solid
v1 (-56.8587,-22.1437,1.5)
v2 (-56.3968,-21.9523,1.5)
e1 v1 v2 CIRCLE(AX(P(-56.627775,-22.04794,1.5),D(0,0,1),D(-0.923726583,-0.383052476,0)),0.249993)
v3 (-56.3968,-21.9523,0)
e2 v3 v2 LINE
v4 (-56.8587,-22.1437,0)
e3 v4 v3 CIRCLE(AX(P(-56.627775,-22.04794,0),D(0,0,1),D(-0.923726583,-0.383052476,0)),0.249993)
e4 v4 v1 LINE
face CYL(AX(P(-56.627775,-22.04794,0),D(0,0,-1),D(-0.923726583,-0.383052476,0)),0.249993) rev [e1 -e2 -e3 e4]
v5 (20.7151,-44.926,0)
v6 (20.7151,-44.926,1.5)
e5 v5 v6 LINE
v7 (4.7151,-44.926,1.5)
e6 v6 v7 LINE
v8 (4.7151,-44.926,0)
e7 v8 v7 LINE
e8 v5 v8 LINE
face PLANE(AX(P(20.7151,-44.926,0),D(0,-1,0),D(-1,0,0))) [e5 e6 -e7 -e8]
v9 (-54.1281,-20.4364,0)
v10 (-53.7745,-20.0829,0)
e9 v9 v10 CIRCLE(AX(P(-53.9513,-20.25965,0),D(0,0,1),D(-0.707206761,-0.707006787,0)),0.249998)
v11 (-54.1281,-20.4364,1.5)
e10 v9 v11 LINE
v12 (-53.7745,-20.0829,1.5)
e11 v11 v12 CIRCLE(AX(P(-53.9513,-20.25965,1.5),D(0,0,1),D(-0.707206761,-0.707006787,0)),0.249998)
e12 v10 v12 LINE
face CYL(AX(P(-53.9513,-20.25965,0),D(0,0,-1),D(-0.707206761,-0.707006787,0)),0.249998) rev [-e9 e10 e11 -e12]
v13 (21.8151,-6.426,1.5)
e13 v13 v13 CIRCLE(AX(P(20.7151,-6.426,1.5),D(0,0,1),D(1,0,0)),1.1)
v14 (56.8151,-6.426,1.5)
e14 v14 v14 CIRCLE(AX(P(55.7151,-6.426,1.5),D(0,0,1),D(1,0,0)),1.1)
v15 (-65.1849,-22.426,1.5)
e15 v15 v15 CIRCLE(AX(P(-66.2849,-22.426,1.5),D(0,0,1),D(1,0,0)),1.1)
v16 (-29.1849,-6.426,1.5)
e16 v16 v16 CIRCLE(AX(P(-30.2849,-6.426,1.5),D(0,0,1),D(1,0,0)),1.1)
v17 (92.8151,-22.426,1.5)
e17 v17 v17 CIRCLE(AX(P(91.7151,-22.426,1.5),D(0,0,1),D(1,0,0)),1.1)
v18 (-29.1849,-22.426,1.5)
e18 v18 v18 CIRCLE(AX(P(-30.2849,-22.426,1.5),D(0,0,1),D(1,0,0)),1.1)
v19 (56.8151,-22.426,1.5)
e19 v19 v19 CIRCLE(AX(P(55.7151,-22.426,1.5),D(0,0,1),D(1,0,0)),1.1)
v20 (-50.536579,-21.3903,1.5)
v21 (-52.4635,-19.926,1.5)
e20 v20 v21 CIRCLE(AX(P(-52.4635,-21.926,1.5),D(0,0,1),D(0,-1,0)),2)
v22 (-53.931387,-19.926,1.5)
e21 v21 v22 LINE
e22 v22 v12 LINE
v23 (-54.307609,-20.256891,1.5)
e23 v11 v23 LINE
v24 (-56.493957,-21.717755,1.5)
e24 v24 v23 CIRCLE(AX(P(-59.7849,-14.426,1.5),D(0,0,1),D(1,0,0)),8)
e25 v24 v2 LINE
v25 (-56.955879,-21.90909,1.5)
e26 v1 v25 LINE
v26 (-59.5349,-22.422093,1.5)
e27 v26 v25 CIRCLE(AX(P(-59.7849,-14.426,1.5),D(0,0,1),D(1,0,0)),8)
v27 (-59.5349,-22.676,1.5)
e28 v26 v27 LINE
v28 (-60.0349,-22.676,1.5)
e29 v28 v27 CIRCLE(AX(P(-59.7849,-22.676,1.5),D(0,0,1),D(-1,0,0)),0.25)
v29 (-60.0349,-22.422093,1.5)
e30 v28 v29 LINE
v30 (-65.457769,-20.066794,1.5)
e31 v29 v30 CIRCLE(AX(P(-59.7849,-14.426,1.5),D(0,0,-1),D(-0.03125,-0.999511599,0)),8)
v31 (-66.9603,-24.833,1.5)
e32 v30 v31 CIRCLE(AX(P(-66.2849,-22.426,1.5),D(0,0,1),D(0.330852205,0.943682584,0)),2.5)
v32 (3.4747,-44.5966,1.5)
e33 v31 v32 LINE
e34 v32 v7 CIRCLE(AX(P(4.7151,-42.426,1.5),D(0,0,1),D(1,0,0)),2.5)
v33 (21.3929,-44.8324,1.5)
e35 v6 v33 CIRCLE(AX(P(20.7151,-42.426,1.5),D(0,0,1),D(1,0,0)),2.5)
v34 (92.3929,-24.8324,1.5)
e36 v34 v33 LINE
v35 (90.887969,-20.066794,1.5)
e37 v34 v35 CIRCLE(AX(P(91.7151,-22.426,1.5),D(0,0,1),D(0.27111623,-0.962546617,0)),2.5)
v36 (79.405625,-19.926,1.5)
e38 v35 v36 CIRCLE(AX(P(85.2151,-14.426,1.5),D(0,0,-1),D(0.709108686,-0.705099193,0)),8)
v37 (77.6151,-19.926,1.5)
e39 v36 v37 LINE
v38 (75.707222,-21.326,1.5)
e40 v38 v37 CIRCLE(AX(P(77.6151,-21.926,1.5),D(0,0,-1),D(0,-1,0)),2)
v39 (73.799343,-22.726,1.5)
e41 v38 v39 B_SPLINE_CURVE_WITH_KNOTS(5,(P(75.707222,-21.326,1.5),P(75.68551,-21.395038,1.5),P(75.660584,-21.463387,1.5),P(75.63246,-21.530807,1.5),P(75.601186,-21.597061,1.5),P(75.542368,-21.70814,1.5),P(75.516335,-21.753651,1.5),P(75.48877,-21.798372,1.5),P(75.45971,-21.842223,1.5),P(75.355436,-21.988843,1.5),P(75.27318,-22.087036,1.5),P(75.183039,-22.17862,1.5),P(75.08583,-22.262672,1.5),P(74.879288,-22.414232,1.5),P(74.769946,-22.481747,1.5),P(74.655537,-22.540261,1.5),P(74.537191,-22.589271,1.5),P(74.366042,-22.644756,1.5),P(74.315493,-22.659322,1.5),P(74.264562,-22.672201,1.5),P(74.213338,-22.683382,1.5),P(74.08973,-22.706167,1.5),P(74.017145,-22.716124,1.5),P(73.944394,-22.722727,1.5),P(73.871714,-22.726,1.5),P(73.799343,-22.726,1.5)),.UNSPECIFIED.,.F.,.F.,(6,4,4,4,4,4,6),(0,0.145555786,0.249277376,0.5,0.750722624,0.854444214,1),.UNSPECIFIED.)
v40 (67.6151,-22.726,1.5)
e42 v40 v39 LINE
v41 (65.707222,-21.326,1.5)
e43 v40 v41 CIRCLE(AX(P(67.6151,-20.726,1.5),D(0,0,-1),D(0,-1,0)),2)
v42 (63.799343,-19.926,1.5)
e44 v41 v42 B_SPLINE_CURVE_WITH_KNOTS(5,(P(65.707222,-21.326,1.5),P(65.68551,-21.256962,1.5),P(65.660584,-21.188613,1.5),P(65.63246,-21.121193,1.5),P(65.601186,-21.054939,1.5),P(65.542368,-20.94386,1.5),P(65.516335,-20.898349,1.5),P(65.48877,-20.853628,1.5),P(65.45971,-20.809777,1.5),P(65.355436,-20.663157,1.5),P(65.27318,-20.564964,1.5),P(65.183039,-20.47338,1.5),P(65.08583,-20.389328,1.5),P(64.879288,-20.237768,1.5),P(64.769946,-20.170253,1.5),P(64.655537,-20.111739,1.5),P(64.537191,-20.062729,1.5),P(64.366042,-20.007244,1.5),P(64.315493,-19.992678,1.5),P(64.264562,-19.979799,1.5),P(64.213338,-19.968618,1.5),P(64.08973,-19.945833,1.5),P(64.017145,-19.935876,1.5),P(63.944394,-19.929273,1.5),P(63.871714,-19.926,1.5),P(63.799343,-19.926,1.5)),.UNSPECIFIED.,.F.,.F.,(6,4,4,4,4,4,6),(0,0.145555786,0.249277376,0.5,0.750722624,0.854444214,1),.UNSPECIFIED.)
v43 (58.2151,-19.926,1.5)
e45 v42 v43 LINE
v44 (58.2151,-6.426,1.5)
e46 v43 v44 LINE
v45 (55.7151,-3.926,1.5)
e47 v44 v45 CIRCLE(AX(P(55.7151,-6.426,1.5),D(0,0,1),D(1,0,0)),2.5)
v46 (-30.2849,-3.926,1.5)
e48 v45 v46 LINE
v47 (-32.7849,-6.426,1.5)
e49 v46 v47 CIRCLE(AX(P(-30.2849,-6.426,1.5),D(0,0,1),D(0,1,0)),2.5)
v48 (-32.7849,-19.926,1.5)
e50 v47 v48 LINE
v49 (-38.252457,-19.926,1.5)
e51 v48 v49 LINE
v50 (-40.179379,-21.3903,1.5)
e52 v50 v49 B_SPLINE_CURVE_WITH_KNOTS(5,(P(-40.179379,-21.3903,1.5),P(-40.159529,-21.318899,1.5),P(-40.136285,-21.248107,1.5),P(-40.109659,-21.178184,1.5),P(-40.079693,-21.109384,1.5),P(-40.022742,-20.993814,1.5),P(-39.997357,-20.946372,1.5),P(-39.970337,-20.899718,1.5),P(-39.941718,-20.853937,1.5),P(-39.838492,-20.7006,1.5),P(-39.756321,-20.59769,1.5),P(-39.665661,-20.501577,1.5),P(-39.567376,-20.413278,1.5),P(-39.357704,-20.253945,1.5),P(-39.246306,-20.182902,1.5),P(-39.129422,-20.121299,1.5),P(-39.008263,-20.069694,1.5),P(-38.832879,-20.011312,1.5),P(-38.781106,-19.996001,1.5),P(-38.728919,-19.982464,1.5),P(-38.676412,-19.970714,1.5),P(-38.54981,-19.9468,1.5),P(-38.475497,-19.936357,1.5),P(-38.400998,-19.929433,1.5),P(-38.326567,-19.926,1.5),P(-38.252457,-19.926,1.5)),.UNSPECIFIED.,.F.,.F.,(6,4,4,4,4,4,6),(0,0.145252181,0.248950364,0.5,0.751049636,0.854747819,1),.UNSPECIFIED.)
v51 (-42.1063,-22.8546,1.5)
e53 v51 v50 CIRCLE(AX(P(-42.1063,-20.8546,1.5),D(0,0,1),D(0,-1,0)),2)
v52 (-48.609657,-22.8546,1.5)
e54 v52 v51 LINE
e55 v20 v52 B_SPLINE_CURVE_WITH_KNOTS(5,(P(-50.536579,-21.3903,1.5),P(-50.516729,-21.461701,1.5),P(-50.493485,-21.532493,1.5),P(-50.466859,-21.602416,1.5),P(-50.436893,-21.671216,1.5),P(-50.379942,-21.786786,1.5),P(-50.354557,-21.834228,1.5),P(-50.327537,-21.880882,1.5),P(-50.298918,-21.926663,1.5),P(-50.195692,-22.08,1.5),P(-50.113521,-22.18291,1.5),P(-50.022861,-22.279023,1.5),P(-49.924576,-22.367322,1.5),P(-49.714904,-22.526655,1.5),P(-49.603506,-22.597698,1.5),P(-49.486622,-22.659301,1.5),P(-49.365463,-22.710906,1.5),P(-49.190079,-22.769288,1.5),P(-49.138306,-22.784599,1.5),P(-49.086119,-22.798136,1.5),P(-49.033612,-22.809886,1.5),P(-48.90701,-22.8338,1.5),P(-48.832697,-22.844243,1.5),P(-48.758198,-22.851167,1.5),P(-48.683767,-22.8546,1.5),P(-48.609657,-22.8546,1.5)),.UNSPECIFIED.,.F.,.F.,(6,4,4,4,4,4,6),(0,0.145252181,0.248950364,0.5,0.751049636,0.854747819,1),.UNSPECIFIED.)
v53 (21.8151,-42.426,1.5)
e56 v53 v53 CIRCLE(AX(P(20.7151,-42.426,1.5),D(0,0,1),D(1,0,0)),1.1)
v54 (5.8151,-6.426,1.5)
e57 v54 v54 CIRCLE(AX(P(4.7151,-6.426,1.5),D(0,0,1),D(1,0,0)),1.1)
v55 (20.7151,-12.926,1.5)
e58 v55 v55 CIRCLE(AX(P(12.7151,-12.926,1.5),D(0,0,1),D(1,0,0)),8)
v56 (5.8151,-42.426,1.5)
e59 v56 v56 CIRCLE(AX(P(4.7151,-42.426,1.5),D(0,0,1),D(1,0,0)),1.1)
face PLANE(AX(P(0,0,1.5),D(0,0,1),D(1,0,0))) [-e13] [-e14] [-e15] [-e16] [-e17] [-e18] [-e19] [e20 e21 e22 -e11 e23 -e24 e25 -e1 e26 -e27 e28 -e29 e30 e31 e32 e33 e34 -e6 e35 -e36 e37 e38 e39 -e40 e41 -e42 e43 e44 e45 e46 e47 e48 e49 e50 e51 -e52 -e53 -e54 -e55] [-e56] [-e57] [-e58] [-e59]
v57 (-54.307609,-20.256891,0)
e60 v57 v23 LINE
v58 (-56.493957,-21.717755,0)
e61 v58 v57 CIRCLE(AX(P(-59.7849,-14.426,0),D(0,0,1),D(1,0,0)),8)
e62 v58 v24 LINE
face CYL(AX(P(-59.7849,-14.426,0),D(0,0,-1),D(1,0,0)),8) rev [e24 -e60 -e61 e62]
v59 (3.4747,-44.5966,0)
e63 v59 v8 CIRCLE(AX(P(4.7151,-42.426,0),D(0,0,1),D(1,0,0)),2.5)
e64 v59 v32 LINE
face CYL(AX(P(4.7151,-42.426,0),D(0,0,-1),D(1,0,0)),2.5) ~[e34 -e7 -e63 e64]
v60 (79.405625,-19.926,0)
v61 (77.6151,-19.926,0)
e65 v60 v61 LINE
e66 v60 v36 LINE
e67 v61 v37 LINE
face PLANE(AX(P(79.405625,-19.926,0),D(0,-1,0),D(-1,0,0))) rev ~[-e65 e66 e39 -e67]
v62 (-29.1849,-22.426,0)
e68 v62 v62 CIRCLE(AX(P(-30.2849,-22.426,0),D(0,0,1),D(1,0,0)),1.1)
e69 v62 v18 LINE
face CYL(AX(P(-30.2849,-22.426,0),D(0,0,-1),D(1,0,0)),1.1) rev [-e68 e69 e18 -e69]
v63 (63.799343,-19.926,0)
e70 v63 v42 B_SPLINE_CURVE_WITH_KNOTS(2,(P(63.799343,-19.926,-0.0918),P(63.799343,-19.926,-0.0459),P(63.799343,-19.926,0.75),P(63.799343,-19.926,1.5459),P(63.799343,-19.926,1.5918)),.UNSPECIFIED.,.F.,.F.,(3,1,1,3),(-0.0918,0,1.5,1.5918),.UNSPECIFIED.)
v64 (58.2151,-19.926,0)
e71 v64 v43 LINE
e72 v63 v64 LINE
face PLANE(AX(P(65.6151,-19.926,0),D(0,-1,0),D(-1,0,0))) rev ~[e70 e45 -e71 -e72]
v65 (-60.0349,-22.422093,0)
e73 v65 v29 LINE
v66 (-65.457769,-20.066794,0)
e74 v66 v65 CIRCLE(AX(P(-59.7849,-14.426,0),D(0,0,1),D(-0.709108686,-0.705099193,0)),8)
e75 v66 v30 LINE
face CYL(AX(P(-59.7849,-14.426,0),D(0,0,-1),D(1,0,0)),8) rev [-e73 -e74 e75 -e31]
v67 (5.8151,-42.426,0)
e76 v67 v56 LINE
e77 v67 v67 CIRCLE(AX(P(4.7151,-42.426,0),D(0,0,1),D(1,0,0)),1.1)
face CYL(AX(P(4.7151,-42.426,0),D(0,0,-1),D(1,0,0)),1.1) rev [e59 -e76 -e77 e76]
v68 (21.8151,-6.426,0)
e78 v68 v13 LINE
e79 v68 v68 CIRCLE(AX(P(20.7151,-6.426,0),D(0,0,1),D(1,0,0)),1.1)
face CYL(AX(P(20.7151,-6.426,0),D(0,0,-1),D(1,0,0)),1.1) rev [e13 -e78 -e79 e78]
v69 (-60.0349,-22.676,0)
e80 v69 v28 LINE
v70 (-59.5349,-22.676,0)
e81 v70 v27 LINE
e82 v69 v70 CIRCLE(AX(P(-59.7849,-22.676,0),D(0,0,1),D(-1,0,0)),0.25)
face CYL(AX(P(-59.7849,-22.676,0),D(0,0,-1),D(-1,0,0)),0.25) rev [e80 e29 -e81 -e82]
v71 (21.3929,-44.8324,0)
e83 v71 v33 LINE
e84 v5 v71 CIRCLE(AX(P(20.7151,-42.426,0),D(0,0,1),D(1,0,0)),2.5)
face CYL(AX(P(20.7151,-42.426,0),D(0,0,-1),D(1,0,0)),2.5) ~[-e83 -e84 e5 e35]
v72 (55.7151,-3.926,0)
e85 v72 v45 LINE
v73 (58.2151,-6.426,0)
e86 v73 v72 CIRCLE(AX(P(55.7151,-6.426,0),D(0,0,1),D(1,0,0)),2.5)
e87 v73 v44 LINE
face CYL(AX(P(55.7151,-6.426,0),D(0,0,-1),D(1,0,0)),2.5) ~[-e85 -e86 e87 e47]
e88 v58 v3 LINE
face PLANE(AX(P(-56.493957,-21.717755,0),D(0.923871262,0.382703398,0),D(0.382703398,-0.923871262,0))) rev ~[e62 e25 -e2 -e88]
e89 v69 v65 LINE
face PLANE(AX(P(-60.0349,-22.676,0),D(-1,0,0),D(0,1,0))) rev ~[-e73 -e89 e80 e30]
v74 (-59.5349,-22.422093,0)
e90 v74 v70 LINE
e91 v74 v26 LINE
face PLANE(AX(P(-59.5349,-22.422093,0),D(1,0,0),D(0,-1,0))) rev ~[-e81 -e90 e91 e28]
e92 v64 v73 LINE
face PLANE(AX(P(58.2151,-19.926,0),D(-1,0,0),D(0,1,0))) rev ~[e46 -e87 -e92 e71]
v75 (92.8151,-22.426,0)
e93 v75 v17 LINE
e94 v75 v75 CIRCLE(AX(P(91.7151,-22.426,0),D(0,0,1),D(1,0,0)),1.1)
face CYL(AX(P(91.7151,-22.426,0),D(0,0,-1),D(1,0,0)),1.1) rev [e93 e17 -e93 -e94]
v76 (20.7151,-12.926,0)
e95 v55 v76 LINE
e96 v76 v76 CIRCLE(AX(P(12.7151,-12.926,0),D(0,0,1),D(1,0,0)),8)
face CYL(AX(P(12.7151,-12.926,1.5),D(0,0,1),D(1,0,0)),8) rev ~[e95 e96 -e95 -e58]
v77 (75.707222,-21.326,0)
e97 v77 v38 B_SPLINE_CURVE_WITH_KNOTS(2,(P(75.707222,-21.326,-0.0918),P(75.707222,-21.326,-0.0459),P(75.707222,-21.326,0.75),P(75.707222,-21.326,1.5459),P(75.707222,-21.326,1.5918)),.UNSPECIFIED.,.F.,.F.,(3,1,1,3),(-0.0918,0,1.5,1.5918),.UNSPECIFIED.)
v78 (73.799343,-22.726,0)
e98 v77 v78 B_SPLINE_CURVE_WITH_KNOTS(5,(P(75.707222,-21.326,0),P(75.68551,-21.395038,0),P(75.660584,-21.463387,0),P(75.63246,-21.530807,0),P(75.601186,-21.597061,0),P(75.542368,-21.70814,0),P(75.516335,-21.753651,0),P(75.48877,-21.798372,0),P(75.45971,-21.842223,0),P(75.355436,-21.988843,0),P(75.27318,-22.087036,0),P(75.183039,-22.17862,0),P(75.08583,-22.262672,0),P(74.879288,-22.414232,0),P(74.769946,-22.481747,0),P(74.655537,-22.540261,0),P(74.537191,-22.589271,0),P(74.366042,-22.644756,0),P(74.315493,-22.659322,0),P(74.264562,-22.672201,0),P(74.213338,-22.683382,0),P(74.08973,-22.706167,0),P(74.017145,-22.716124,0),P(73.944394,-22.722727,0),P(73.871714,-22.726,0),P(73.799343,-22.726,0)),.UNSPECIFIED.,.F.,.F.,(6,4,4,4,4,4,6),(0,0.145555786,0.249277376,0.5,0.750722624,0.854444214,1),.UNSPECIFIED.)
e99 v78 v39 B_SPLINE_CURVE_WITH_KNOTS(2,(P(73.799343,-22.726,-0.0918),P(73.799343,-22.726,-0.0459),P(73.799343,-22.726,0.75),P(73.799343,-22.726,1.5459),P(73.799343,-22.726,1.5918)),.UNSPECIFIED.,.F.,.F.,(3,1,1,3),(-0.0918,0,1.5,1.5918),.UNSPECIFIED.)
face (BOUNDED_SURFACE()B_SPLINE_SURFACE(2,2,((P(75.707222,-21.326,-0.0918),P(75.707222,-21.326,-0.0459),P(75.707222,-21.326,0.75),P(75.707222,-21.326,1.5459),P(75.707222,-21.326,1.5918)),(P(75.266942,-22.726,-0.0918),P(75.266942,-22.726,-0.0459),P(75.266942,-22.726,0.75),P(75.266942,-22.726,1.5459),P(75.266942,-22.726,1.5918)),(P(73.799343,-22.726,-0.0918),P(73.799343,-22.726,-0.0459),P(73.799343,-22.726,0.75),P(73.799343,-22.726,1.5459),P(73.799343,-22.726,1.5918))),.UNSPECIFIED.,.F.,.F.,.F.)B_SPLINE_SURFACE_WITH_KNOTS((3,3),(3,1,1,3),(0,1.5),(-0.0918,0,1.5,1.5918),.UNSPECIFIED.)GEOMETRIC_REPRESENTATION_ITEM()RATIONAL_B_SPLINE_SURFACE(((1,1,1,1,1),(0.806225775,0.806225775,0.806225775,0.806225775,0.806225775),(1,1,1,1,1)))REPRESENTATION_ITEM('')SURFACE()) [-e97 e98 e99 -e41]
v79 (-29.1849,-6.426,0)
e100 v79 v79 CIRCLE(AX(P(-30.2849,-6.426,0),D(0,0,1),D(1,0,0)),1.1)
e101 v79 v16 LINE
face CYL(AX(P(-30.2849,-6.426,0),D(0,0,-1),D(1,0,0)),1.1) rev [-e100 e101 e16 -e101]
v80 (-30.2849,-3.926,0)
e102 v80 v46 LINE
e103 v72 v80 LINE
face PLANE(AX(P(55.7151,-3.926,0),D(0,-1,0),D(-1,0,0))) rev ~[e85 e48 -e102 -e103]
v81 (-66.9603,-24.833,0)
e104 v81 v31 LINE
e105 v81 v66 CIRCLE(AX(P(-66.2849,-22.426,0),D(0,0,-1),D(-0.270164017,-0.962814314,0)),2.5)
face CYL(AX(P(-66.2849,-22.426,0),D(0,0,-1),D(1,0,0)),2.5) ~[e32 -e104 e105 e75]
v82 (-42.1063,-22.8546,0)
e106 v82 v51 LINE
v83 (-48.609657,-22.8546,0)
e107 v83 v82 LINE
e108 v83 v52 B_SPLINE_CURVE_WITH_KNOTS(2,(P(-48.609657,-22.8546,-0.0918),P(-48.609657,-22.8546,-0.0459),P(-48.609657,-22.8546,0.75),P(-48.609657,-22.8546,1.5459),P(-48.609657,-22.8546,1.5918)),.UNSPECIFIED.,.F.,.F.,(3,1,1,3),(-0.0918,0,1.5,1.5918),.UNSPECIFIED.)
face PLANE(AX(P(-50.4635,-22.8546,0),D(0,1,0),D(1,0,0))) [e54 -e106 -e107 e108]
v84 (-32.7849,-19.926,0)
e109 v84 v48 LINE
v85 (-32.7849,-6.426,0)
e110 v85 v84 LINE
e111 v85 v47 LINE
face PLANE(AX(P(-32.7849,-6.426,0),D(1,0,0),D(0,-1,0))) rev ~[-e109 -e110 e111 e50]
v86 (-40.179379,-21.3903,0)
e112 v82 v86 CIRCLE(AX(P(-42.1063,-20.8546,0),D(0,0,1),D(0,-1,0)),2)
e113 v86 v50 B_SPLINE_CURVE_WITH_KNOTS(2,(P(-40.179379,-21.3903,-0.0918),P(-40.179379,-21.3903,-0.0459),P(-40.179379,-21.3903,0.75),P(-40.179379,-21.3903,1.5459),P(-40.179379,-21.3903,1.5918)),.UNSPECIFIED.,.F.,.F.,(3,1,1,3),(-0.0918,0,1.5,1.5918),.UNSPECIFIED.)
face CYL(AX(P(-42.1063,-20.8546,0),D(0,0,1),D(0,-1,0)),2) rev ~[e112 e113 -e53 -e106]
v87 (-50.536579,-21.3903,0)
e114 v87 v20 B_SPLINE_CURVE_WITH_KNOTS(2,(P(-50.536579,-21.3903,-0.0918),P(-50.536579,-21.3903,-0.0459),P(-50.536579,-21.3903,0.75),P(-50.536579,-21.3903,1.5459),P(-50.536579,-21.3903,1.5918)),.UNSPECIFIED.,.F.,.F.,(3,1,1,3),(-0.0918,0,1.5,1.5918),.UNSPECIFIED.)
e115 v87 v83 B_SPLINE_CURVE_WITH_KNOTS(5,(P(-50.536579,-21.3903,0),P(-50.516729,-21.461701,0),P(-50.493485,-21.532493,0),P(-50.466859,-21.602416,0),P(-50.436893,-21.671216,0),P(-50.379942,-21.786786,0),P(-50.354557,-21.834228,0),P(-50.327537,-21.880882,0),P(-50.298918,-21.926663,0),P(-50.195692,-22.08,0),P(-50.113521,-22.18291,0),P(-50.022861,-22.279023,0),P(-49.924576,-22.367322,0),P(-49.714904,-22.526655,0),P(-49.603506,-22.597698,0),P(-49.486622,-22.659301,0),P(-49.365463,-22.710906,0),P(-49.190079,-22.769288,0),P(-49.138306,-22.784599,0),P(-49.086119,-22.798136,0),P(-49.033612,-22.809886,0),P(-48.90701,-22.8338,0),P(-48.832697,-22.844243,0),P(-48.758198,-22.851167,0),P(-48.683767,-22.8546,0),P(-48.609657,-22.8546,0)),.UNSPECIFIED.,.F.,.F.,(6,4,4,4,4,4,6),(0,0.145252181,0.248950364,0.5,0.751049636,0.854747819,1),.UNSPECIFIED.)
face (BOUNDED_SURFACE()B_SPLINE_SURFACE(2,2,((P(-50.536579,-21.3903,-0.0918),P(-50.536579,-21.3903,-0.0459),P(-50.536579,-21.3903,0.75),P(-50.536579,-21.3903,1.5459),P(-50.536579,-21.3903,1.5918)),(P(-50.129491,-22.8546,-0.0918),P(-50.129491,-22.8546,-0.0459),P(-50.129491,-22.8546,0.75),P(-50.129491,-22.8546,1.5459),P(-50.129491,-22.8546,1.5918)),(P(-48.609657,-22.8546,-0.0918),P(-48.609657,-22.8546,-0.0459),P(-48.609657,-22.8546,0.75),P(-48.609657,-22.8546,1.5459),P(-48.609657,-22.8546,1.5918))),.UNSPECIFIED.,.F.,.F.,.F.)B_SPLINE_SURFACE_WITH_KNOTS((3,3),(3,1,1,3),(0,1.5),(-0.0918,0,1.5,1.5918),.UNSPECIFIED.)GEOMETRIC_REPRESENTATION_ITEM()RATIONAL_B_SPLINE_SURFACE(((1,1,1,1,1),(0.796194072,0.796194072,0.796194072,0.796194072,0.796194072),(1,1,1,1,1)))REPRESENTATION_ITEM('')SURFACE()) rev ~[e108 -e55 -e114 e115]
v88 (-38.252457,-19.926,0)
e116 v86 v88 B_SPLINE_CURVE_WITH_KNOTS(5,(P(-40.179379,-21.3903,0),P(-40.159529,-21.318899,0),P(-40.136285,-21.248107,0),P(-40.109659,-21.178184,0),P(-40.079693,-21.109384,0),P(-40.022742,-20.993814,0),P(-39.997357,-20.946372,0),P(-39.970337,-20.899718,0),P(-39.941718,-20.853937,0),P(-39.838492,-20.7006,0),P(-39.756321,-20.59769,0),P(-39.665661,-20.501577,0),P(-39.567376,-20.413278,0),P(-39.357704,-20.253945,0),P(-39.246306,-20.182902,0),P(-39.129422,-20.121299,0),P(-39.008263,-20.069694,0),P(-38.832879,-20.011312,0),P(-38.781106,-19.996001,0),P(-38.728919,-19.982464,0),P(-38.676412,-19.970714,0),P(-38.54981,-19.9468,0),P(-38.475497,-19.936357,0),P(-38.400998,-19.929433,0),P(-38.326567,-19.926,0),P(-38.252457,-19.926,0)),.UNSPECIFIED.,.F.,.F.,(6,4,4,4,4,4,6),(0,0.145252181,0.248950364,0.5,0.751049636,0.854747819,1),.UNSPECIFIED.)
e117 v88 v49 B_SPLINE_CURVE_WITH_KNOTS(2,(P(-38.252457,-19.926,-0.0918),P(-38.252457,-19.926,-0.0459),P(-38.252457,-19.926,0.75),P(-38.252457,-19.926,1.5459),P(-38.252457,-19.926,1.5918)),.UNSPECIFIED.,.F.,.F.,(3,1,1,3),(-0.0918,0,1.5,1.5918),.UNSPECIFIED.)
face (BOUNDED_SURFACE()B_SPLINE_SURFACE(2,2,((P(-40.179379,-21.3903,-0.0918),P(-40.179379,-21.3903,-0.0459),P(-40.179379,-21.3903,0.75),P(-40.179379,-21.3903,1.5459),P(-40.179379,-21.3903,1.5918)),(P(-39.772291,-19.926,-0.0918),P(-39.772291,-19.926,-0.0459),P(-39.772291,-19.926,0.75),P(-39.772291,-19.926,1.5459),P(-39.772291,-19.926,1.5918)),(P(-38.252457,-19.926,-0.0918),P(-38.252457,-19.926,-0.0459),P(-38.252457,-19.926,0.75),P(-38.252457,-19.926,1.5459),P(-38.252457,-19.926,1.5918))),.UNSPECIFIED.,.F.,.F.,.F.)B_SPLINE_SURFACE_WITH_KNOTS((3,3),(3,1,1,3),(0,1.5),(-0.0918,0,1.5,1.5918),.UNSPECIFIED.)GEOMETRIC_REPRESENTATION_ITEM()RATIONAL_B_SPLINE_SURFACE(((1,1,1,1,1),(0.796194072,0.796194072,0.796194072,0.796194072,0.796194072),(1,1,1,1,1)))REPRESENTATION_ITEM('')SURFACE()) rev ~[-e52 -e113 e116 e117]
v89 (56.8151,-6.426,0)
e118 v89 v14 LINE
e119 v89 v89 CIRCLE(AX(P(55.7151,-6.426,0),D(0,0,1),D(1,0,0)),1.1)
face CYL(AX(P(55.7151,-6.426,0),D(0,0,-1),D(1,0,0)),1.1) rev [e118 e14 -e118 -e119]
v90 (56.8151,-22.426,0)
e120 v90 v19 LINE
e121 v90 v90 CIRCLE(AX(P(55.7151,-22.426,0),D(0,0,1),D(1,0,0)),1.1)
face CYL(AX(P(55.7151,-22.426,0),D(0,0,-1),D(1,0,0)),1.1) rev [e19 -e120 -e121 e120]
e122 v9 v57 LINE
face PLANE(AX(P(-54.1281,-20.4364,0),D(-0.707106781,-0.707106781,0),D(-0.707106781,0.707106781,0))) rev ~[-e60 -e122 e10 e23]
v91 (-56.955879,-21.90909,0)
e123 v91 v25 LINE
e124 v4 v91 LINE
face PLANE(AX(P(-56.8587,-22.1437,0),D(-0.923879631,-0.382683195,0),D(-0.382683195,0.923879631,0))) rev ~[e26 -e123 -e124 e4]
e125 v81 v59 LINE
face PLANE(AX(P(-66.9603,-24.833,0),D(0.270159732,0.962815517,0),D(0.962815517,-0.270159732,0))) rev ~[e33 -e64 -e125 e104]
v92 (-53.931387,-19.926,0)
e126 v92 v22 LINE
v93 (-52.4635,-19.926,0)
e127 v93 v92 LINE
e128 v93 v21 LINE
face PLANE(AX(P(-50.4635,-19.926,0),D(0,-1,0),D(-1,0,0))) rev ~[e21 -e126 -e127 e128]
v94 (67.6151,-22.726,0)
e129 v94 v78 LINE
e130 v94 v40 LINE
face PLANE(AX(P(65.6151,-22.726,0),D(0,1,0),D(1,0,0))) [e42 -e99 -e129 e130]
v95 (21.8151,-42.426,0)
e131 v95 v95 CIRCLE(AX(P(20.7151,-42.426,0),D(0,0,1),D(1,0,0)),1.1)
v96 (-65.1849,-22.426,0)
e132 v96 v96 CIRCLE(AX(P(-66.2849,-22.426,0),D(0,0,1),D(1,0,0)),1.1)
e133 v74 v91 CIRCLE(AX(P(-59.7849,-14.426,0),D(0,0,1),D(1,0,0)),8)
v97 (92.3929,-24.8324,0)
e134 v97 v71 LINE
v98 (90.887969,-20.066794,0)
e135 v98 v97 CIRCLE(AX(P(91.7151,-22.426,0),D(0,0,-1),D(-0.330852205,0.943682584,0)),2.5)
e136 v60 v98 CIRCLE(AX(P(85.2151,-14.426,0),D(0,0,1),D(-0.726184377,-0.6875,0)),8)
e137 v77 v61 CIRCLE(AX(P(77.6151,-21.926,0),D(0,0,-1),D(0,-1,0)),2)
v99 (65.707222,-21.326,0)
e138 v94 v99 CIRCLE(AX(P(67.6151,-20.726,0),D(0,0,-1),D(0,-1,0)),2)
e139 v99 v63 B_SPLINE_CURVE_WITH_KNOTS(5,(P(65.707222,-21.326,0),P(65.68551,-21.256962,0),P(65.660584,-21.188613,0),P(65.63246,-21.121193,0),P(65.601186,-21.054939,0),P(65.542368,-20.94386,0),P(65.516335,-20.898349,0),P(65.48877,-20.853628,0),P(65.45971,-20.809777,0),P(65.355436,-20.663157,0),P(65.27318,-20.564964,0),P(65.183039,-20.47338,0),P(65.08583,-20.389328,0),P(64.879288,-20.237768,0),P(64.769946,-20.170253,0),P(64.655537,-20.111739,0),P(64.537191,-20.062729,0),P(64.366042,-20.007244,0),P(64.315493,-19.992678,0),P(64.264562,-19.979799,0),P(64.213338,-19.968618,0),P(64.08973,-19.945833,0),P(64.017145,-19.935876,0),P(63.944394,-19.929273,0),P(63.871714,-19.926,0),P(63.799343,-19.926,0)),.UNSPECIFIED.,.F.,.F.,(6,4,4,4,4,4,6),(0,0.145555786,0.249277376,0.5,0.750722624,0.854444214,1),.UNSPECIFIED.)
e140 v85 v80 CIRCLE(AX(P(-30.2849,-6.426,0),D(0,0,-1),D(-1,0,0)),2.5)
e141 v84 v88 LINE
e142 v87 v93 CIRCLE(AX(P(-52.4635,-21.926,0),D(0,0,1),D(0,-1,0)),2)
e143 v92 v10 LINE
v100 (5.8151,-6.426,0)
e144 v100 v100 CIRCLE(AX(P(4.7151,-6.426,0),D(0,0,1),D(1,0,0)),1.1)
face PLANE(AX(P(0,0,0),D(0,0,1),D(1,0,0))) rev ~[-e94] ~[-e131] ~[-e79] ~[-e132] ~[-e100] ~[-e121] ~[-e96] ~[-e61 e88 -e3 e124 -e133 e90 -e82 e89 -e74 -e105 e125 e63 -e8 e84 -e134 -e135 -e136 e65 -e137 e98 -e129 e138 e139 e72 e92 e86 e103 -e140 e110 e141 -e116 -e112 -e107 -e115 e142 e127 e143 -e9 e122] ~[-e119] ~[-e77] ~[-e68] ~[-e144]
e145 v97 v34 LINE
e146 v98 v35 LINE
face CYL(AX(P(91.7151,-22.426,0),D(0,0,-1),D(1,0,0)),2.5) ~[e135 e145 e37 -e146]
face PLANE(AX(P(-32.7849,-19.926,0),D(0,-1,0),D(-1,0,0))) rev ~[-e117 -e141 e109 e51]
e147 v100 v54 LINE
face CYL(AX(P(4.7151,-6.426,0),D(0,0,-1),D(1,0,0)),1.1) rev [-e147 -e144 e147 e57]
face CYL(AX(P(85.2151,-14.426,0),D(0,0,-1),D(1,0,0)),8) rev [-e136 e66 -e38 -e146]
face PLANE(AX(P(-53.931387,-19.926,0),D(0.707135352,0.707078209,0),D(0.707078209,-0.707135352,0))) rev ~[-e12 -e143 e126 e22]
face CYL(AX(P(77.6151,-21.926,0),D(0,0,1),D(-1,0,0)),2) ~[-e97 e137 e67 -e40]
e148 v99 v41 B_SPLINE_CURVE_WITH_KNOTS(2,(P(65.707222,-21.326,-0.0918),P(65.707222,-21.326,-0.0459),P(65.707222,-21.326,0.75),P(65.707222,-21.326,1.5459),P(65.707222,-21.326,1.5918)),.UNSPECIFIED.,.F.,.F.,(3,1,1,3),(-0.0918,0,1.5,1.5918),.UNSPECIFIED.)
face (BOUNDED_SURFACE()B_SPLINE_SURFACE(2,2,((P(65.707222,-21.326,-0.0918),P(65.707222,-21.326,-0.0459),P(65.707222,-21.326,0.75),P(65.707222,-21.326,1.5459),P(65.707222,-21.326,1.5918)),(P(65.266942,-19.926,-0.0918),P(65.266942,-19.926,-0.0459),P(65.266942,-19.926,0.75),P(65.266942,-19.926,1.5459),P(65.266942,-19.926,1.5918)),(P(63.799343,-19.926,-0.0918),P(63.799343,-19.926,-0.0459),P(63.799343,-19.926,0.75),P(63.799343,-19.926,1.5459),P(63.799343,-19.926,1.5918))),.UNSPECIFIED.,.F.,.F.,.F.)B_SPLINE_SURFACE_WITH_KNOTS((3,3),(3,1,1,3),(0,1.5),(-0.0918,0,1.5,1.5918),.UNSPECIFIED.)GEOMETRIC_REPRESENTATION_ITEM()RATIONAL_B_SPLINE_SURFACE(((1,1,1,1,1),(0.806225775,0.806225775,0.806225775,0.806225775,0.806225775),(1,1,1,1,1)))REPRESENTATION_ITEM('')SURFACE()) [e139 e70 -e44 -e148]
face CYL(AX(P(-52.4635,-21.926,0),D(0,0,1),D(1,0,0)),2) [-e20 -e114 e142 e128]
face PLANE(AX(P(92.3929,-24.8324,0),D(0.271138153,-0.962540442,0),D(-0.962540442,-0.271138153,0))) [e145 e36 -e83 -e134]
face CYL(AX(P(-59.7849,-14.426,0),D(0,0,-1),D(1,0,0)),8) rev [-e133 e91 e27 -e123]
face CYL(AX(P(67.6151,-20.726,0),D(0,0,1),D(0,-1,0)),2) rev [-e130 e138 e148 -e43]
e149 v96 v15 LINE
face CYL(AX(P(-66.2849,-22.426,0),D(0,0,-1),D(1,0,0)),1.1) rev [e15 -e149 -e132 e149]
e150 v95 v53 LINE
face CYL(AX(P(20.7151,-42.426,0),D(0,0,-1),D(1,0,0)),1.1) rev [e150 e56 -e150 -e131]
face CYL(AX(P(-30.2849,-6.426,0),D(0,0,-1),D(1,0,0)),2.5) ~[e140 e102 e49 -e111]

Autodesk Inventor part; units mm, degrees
ref_plane "YZ Plane" through (0, 0, 0) normal (1, 0, 0) x (0, 1, 0)
ref_plane "XZ Plane" through (0, 0, 0) normal (0, 1, 0) x (-1, 0, 0)
ref_plane "XY Plane" through (0, 0, 0) normal (0, 0, 1) x (1, 0, 0)
sketch "スケッチ1" plane through (0, 0, 0) normal (0, 0, 1) x (1, 0, 0)
  circle A0 centre (55.7151, -22.426) radius 1 projected
  circle A1 centre (55.7151, -6.426) radius 1.05 projected
  circle A2 centre (20.7151, -6.426) radius 1 projected
  circle A3 centre (4.7151, -6.426) radius 1.45 projected
  circle A4 centre (-30.2849, -22.426) radius 1 projected
  circle A5 centre (-30.2849, -6.426) radius 1.05 projected
  circle A6 centre (55.7151, -22.426) radius 1.1
  circle A7 centre (55.7151, -6.426) radius 1.1
  circle A8 centre (20.7151, -6.426) radius 1.1
  circle A9 centre (4.7151, -6.426) radius 1.1
  circle A10 centre (-30.2849, -6.426) radius 1.1
  circle A11 centre (-30.2849, -22.426) radius 1.1
  circle A12 centre (20.7151, -42.426) radius 1 projected
  circle A13 centre (4.7151, -42.426) radius 1 projected
  circle A14 centre (20.7151, -42.426) radius 1.1
  circle A15 centre (4.7151, -42.426) radius 1.1
  circle A16 centre (55.7151, -6.426) radius 2.5
  circle A17 centre (-30.2849, -6.426) radius 2.5
  circle A18 centre (-30.2849, -22.426) radius 2.5
  circle A19 centre (55.7151, -22.426) radius 2.5
  circle A20 centre (20.7151, -42.426) radius 2.5
  circle A21 centre (4.7151, -42.426) radius 2.5
  line L0 (21.9554, -44.5966) -> (56.9554, -24.5966)
  line L1 (58.2151, -22.426) -> (58.2151, -6.426)
  line L2 (55.7151, -3.926) -> (-30.2849, -3.926)
  line L3 (-32.7849, -6.426) -> (-32.7849, -22.426)
  line L4 (3.4747, -44.5966) -> (-31.5253, -24.5966)
  line L5 (20.7151, -44.926) -> (4.7151, -44.926)
  circle A22 centre (91.7151, -22.426) radius 1 projected
  circle A23 centre (91.7151, -22.426) radius 1.1
  circle A24 centre (-66.2849, -22.426) radius 1.05 projected
  circle A25 centre (-66.2849, -22.426) radius 1.1
  circle A26 centre (-66.2849, -22.426) radius 2.5
  circle A27 centre (91.7151, -22.426) radius 2.5
  line L6 (92.3929, -24.8324) -> (21.3929, -44.8324)
  line L7 (91.7151, -19.926) -> (55.7151, -19.926)
  line L8 (73.8937, -20.8546) -> (67.5365, -20.8546) projected
  line L9 (73.8937, -16.9974) -> (73.8937, -20.8546) projected
  line L10 (67.5365, -16.9974) -> (73.8937, -16.9974) projected
  line L11 (67.5365, -20.8546) -> (67.5365, -16.9974) projected
  line L12 (73.8937, -20.8546) -> (67.5365, -20.8546) projected
  line L13 (67.6151, -17.226) -> (73.6151, -17.226) projected
  line L14 (73.6151, -17.226) -> (73.6151, -20.726) projected
  line L15 (73.6151, -20.726) -> (67.6151, -20.726) projected
  line L16 (67.6151, -20.726) -> (67.6151, -17.226) projected
  line L17 (65.6151, -22.726) -> (75.6151, -22.726)
  line L18 (75.6151, -22.726) -> (75.6151, -15.226)
  line L19 (75.6151, -15.226) -> (65.6151, -15.226)
  line L20 (65.6151, -15.226) -> (65.6151, -22.726)
  line L21 (-66.9603, -24.833) -> (3.4747, -44.5966)
  line L22 (-30.2849, -19.926) -> (-66.2849, -19.926)
  line L23 (-48.4635, -20.8546) -> (-48.4635, -16.9974) projected
  line L24 (-28.7849, -24.426) -> (-67.7849, -24.426) projected
  arc A28 (-28.7849, -24.426) -> (-28.2849, -23.926) centre (-28.7849, -23.926) ccw projected
  line L25 (-28.2849, -4.926) -> (-28.2849, -23.926) projected
  arc A29 (-28.2849, -4.926) -> (-28.7849, -4.426) centre (-28.7849, -4.926) ccw projected
  line L26 (-67.7849, -4.426) -> (-28.7849, -4.426) projected
  arc A30 (-67.7849, -4.426) -> (-68.2849, -4.926) centre (-67.7849, -4.926) ccw projected
  line L27 (-68.2849, -23.926) -> (-68.2849, -4.926) projected
  arc A31 (-68.2849, -23.926) -> (-67.7849, -24.426) centre (-67.7849, -23.926) ccw projected
  line L28 (-48.4635, -7.9974) -> (-42.1063, -7.9974) projected
  line L29 (-42.1063, -7.9974) -> (-42.1063, -11.8546) projected
  line L30 (-42.1063, -11.8546) -> (-48.4635, -11.8546) projected
  line L31 (-48.4635, -11.8546) -> (-48.4635, -7.9974) projected
  circle A32 centre (-40.8849, -14.426) radius 1.1519 projected
  line L32 (-48.4635, -20.8546) -> (-48.4635, -16.9974) projected
  line L33 (-48.4635, -16.9974) -> (-42.1063, -16.9974) projected
  line L34 (-42.1063, -16.9974) -> (-42.1063, -20.8546) projected
  line L35 (-42.1063, -20.8546) -> (-48.4635, -20.8546) projected
  circle A33 centre (-66.2849, -6.426) radius 1.8131 projected
  circle A34 centre (-66.2849, -22.426) radius 1.8131 projected
  circle A35 centre (-30.2849, -6.426) radius 1.8131 projected
  circle A36 centre (-30.2849, -22.426) radius 1.8131 projected
  arc A37 (-59.7956, -8.176) -> (-59.7849, -20.676) centre (-59.7849, -14.426) ccw projected
  arc A38 (-60.0349, -7.926) -> (-59.7956, -8.1758) centre (-59.7849, -7.926) ccw projected
  line L36 (-60.0349, -7.926) -> (-60.0349, -6.176) projected
  arc A39 (-59.5349, -6.176) -> (-60.0349, -6.176) centre (-59.7849, -6.176) ccw projected
  line L37 (-59.5349, -6.176) -> (-59.5349, -7.926) projected
  arc A40 (-59.7849, -8.176) -> (-59.5349, -7.926) centre (-59.7849, -7.926) ccw projected
  arc A41 (-57.3931, -8.6518) -> (-59.7849, -8.176) centre (-59.7849, -14.426) ccw projected
  arc A42 (-57.5284, -8.3251) -> (-57.3931, -8.6518) centre (-57.2975, -8.4208) ccw projected
  line L38 (-57.5284, -8.3251) -> (-56.8587, -6.7083) projected
  arc A43 (-56.3968, -6.8997) -> (-56.8587, -6.7083) centre (-56.6278, -6.804) ccw projected
  line L39 (-56.3968, -6.8997) -> (-57.0665, -8.5165) projected
  arc A44 (-57.3931, -8.6518) -> (-57.0665, -8.5165) centre (-57.2975, -8.4208) ccw projected
  arc A45 (-55.3655, -10.0066) -> (-57.3931, -8.6518) centre (-59.7849, -14.426) ccw projected
  arc A46 (-55.3655, -9.653) -> (-55.3655, -10.0066) centre (-55.1887, -9.8298) ccw projected
  line L40 (-55.3655, -9.653) -> (-54.1281, -8.4156) projected
  arc A47 (-53.7745, -8.7692) -> (-54.1281, -8.4156) centre (-53.9513, -8.5924) ccw projected
  line L41 (-53.7745, -8.7692) -> (-55.0119, -10.0066) projected
  arc A48 (-55.3655, -10.0066) -> (-55.0119, -10.0066) centre (-55.1887, -9.8298) ccw projected
  arc A49 (-54.0107, -12.0342) -> (-55.3655, -10.0066) centre (-59.7849, -14.426) ccw projected
  arc A50 (-53.8754, -11.7076) -> (-54.0107, -12.0342) centre (-53.7797, -11.9386) ccw projected
  line L42 (-53.8754, -11.7076) -> (-52.2586, -11.0379) projected
  arc A51 (-52.0672, -11.4998) -> (-52.2586, -11.0379) centre (-52.1629, -11.2689) ccw projected
  line L43 (-52.0672, -11.4998) -> (-53.684, -12.1695) projected
  arc A52 (-54.0107, -12.0342) -> (-53.684, -12.1695) centre (-53.7797, -11.9386) ccw projected
  arc A53 (-53.5349, -14.426) -> (-54.0107, -12.0342) centre (-59.7849, -14.426) ccw projected
  arc A54 (-53.2849, -14.176) -> (-53.5349, -14.426) centre (-53.2849, -14.426) ccw projected
  line L44 (-53.2849, -14.176) -> (-51.5349, -14.176) projected
  arc A55 (-51.5349, -14.676) -> (-51.5349, -14.176) centre (-51.5349, -14.426) ccw projected
  line L45 (-51.5349, -14.676) -> (-53.2849, -14.676) projected
  arc A56 (-53.5349, -14.426) -> (-53.2849, -14.676) centre (-53.2849, -14.426) ccw projected
  arc A57 (-54.0107, -16.8178) -> (-53.5349, -14.426) centre (-59.7849, -14.426) ccw projected
  arc A58 (-53.684, -16.6825) -> (-54.0107, -16.8178) centre (-53.7797, -16.9134) ccw projected
  line L46 (-53.684, -16.6825) -> (-52.0672, -17.3522) projected
  arc A59 (-52.2586, -17.8141) -> (-52.0672, -17.3522) centre (-52.1629, -17.5831) ccw projected
  line L47 (-52.2586, -17.8141) -> (-53.8754, -17.1444) projected
  arc A60 (-54.0107, -16.8178) -> (-53.8754, -17.1444) centre (-53.7797, -16.9134) ccw projected
  arc A61 (-55.3655, -18.8454) -> (-54.0107, -16.8178) centre (-59.7849, -14.426) ccw projected
  arc A62 (-55.0119, -18.8454) -> (-55.3655, -18.8454) centre (-55.1887, -19.0222) ccw projected
  line L48 (-55.0119, -18.8454) -> (-53.7745, -20.0829) projected
  arc A63 (-54.1281, -20.4364) -> (-53.7745, -20.0829) centre (-53.9513, -20.2596) ccw projected
  line L49 (-54.1281, -20.4364) -> (-55.3655, -19.199) projected
  arc A64 (-55.3655, -18.8454) -> (-55.3655, -19.199) centre (-55.1887, -19.0222) ccw projected
  arc A65 (-57.3931, -20.2003) -> (-55.3655, -18.8454) centre (-59.7849, -14.426) ccw projected
  arc A66 (-57.0665, -20.3356) -> (-57.3931, -20.2003) centre (-57.2975, -20.4312) ccw projected
  line L50 (-57.0665, -20.3356) -> (-56.3968, -21.9523) projected
  arc A67 (-56.8587, -22.1437) -> (-56.3968, -21.9523) centre (-56.6278, -22.048) ccw projected
  line L51 (-56.8587, -22.1437) -> (-57.5284, -20.5269) projected
  arc A68 (-57.3931, -20.2003) -> (-57.5284, -20.5269) centre (-57.2975, -20.4312) ccw projected
  arc A69 (-59.7849, -20.676) -> (-57.3931, -20.2003) centre (-59.7849, -14.426) ccw projected
  arc A70 (-59.5349, -20.926) -> (-59.7849, -20.676) centre (-59.7849, -20.926) ccw projected
  line L52 (-59.5349, -20.926) -> (-59.5349, -22.676) projected
  arc A71 (-60.0349, -22.676) -> (-59.5349, -22.676) centre (-59.7849, -22.676) ccw projected
  line L53 (-60.0349, -22.676) -> (-60.0349, -20.926) projected
  arc A72 (-59.7849, -20.676) -> (-60.0349, -20.926) centre (-59.7849, -20.926) ccw projected
  line L54 (-50.4635, -22.8546) -> (-40.1063, -22.8546)
  line L55 (-40.1063, -22.8546) -> (-40.1063, -14.9974)
  line L56 (-40.1063, -14.9974) -> (-50.4635, -14.9974)
  line L57 (-50.4635, -22.8546) -> (-50.4635, -14.9974)
  circle A73 centre (-59.7849, -14.426) radius 8 projected
  circle A74 centre (85.2151, -14.426) radius 8 projected
  point P0 (0, 0)
  point P1 (-32.7849, -19.926)
  point P2 (-40.1063, -19.926)
  point P3 (-50.4635, -19.926)
  point P4 (-53.9314, -19.926)
  point P5 (-54.3076, -20.2569)
  point P6 (-56.494, -21.7178)
  point P7 (-56.9559, -21.9091)
  point P8 (-59.5349, -22.4221)
  point P9 (-60.0349, -22.4221)
  point P10 (-65.4578, -20.0668)
  point P11 (65.6151, -19.926)
  point P12 (58.2151, -19.926)
  point P13 (90.888, -20.0668)
  point P14 (79.4056, -19.926)
  point P15 (75.6151, -19.926)
  dimension "d0" = 2.2
  dimension "d1" = 2.2
  dimension "d2" = 2.2
  dimension "d3" = 2.2
  dimension "d4" = 2.2
  dimension "d5" = 2.2
  dimension "d6" = 2.2
  dimension "d7" = 2.2
  dimension "d8" = 5
  dimension "d9" = 5
  dimension "d10" = 5
  dimension "d11" = 5
  dimension "d12" = 5
  dimension "d13" = 5
  dimension "d18" = 2.2
  dimension "d19" = 2.2
  dimension "d20" = 5
  dimension "d21" = 5
  dimension "d22" = 2
  dimension "d23" = 2
  dimension "d24" = 2
extrude "押し出し1" add sketch "スケッチ1" along normal blind 1.5 contours A3 | A16 | L1 L7 A19 L0 A20 L5 A21 L4 A18 A28 L25 A17 A29 L2 A16 | L7 L20 L17 L18 A74 A27 L6 A20 L0 A19 L1 | L1 A19 L7 | A17 L26 | A19 | A29 A17 | A17 L25 L26 | A17 L25 | A17 L25 A18 L22 L3 | A20 | L22 A18 L3 | L3 A18 L24 A26 A73 L53 A71 L52 L51 A67 L50 L49 A63 L48 L22 L57 L54 L55 | L25 A18 L24 | A18 L25 | L27 A26 | A26 A73 L24 L27 | A27 A74 | A28 A18 | L24 A18 | A18 L4 L21 A26 L24 | A21 | A26 L24 | A34 | A35 | A36 picked at (89.8821, -21.5749)
sketch "スケッチ2" plane through (0, 0, 1.5) normal (0, 0, 1) x (1, 0, 0)
  circle A0 centre (12.7151, -12.926) radius 8 projected
  point P0 (0, 0)
extrude "押し出し2" cut sketch "スケッチ2" against normal through all
fillet "フィレット1" radius 2 8 edges at (75.6151, -19.926, 0.75) (75.6151, -22.726, 0.75) (65.6151, -22.726, 0.75) (65.6151, -19.926, 0.75) (-50.4635, -19.926, 0.75) (-50.4635, -22.8546, 0.75) (-40.1063, -22.8546, 0.75) (-40.1063, -19.926, 0.75)
properties part number "jouhansin_sita"
